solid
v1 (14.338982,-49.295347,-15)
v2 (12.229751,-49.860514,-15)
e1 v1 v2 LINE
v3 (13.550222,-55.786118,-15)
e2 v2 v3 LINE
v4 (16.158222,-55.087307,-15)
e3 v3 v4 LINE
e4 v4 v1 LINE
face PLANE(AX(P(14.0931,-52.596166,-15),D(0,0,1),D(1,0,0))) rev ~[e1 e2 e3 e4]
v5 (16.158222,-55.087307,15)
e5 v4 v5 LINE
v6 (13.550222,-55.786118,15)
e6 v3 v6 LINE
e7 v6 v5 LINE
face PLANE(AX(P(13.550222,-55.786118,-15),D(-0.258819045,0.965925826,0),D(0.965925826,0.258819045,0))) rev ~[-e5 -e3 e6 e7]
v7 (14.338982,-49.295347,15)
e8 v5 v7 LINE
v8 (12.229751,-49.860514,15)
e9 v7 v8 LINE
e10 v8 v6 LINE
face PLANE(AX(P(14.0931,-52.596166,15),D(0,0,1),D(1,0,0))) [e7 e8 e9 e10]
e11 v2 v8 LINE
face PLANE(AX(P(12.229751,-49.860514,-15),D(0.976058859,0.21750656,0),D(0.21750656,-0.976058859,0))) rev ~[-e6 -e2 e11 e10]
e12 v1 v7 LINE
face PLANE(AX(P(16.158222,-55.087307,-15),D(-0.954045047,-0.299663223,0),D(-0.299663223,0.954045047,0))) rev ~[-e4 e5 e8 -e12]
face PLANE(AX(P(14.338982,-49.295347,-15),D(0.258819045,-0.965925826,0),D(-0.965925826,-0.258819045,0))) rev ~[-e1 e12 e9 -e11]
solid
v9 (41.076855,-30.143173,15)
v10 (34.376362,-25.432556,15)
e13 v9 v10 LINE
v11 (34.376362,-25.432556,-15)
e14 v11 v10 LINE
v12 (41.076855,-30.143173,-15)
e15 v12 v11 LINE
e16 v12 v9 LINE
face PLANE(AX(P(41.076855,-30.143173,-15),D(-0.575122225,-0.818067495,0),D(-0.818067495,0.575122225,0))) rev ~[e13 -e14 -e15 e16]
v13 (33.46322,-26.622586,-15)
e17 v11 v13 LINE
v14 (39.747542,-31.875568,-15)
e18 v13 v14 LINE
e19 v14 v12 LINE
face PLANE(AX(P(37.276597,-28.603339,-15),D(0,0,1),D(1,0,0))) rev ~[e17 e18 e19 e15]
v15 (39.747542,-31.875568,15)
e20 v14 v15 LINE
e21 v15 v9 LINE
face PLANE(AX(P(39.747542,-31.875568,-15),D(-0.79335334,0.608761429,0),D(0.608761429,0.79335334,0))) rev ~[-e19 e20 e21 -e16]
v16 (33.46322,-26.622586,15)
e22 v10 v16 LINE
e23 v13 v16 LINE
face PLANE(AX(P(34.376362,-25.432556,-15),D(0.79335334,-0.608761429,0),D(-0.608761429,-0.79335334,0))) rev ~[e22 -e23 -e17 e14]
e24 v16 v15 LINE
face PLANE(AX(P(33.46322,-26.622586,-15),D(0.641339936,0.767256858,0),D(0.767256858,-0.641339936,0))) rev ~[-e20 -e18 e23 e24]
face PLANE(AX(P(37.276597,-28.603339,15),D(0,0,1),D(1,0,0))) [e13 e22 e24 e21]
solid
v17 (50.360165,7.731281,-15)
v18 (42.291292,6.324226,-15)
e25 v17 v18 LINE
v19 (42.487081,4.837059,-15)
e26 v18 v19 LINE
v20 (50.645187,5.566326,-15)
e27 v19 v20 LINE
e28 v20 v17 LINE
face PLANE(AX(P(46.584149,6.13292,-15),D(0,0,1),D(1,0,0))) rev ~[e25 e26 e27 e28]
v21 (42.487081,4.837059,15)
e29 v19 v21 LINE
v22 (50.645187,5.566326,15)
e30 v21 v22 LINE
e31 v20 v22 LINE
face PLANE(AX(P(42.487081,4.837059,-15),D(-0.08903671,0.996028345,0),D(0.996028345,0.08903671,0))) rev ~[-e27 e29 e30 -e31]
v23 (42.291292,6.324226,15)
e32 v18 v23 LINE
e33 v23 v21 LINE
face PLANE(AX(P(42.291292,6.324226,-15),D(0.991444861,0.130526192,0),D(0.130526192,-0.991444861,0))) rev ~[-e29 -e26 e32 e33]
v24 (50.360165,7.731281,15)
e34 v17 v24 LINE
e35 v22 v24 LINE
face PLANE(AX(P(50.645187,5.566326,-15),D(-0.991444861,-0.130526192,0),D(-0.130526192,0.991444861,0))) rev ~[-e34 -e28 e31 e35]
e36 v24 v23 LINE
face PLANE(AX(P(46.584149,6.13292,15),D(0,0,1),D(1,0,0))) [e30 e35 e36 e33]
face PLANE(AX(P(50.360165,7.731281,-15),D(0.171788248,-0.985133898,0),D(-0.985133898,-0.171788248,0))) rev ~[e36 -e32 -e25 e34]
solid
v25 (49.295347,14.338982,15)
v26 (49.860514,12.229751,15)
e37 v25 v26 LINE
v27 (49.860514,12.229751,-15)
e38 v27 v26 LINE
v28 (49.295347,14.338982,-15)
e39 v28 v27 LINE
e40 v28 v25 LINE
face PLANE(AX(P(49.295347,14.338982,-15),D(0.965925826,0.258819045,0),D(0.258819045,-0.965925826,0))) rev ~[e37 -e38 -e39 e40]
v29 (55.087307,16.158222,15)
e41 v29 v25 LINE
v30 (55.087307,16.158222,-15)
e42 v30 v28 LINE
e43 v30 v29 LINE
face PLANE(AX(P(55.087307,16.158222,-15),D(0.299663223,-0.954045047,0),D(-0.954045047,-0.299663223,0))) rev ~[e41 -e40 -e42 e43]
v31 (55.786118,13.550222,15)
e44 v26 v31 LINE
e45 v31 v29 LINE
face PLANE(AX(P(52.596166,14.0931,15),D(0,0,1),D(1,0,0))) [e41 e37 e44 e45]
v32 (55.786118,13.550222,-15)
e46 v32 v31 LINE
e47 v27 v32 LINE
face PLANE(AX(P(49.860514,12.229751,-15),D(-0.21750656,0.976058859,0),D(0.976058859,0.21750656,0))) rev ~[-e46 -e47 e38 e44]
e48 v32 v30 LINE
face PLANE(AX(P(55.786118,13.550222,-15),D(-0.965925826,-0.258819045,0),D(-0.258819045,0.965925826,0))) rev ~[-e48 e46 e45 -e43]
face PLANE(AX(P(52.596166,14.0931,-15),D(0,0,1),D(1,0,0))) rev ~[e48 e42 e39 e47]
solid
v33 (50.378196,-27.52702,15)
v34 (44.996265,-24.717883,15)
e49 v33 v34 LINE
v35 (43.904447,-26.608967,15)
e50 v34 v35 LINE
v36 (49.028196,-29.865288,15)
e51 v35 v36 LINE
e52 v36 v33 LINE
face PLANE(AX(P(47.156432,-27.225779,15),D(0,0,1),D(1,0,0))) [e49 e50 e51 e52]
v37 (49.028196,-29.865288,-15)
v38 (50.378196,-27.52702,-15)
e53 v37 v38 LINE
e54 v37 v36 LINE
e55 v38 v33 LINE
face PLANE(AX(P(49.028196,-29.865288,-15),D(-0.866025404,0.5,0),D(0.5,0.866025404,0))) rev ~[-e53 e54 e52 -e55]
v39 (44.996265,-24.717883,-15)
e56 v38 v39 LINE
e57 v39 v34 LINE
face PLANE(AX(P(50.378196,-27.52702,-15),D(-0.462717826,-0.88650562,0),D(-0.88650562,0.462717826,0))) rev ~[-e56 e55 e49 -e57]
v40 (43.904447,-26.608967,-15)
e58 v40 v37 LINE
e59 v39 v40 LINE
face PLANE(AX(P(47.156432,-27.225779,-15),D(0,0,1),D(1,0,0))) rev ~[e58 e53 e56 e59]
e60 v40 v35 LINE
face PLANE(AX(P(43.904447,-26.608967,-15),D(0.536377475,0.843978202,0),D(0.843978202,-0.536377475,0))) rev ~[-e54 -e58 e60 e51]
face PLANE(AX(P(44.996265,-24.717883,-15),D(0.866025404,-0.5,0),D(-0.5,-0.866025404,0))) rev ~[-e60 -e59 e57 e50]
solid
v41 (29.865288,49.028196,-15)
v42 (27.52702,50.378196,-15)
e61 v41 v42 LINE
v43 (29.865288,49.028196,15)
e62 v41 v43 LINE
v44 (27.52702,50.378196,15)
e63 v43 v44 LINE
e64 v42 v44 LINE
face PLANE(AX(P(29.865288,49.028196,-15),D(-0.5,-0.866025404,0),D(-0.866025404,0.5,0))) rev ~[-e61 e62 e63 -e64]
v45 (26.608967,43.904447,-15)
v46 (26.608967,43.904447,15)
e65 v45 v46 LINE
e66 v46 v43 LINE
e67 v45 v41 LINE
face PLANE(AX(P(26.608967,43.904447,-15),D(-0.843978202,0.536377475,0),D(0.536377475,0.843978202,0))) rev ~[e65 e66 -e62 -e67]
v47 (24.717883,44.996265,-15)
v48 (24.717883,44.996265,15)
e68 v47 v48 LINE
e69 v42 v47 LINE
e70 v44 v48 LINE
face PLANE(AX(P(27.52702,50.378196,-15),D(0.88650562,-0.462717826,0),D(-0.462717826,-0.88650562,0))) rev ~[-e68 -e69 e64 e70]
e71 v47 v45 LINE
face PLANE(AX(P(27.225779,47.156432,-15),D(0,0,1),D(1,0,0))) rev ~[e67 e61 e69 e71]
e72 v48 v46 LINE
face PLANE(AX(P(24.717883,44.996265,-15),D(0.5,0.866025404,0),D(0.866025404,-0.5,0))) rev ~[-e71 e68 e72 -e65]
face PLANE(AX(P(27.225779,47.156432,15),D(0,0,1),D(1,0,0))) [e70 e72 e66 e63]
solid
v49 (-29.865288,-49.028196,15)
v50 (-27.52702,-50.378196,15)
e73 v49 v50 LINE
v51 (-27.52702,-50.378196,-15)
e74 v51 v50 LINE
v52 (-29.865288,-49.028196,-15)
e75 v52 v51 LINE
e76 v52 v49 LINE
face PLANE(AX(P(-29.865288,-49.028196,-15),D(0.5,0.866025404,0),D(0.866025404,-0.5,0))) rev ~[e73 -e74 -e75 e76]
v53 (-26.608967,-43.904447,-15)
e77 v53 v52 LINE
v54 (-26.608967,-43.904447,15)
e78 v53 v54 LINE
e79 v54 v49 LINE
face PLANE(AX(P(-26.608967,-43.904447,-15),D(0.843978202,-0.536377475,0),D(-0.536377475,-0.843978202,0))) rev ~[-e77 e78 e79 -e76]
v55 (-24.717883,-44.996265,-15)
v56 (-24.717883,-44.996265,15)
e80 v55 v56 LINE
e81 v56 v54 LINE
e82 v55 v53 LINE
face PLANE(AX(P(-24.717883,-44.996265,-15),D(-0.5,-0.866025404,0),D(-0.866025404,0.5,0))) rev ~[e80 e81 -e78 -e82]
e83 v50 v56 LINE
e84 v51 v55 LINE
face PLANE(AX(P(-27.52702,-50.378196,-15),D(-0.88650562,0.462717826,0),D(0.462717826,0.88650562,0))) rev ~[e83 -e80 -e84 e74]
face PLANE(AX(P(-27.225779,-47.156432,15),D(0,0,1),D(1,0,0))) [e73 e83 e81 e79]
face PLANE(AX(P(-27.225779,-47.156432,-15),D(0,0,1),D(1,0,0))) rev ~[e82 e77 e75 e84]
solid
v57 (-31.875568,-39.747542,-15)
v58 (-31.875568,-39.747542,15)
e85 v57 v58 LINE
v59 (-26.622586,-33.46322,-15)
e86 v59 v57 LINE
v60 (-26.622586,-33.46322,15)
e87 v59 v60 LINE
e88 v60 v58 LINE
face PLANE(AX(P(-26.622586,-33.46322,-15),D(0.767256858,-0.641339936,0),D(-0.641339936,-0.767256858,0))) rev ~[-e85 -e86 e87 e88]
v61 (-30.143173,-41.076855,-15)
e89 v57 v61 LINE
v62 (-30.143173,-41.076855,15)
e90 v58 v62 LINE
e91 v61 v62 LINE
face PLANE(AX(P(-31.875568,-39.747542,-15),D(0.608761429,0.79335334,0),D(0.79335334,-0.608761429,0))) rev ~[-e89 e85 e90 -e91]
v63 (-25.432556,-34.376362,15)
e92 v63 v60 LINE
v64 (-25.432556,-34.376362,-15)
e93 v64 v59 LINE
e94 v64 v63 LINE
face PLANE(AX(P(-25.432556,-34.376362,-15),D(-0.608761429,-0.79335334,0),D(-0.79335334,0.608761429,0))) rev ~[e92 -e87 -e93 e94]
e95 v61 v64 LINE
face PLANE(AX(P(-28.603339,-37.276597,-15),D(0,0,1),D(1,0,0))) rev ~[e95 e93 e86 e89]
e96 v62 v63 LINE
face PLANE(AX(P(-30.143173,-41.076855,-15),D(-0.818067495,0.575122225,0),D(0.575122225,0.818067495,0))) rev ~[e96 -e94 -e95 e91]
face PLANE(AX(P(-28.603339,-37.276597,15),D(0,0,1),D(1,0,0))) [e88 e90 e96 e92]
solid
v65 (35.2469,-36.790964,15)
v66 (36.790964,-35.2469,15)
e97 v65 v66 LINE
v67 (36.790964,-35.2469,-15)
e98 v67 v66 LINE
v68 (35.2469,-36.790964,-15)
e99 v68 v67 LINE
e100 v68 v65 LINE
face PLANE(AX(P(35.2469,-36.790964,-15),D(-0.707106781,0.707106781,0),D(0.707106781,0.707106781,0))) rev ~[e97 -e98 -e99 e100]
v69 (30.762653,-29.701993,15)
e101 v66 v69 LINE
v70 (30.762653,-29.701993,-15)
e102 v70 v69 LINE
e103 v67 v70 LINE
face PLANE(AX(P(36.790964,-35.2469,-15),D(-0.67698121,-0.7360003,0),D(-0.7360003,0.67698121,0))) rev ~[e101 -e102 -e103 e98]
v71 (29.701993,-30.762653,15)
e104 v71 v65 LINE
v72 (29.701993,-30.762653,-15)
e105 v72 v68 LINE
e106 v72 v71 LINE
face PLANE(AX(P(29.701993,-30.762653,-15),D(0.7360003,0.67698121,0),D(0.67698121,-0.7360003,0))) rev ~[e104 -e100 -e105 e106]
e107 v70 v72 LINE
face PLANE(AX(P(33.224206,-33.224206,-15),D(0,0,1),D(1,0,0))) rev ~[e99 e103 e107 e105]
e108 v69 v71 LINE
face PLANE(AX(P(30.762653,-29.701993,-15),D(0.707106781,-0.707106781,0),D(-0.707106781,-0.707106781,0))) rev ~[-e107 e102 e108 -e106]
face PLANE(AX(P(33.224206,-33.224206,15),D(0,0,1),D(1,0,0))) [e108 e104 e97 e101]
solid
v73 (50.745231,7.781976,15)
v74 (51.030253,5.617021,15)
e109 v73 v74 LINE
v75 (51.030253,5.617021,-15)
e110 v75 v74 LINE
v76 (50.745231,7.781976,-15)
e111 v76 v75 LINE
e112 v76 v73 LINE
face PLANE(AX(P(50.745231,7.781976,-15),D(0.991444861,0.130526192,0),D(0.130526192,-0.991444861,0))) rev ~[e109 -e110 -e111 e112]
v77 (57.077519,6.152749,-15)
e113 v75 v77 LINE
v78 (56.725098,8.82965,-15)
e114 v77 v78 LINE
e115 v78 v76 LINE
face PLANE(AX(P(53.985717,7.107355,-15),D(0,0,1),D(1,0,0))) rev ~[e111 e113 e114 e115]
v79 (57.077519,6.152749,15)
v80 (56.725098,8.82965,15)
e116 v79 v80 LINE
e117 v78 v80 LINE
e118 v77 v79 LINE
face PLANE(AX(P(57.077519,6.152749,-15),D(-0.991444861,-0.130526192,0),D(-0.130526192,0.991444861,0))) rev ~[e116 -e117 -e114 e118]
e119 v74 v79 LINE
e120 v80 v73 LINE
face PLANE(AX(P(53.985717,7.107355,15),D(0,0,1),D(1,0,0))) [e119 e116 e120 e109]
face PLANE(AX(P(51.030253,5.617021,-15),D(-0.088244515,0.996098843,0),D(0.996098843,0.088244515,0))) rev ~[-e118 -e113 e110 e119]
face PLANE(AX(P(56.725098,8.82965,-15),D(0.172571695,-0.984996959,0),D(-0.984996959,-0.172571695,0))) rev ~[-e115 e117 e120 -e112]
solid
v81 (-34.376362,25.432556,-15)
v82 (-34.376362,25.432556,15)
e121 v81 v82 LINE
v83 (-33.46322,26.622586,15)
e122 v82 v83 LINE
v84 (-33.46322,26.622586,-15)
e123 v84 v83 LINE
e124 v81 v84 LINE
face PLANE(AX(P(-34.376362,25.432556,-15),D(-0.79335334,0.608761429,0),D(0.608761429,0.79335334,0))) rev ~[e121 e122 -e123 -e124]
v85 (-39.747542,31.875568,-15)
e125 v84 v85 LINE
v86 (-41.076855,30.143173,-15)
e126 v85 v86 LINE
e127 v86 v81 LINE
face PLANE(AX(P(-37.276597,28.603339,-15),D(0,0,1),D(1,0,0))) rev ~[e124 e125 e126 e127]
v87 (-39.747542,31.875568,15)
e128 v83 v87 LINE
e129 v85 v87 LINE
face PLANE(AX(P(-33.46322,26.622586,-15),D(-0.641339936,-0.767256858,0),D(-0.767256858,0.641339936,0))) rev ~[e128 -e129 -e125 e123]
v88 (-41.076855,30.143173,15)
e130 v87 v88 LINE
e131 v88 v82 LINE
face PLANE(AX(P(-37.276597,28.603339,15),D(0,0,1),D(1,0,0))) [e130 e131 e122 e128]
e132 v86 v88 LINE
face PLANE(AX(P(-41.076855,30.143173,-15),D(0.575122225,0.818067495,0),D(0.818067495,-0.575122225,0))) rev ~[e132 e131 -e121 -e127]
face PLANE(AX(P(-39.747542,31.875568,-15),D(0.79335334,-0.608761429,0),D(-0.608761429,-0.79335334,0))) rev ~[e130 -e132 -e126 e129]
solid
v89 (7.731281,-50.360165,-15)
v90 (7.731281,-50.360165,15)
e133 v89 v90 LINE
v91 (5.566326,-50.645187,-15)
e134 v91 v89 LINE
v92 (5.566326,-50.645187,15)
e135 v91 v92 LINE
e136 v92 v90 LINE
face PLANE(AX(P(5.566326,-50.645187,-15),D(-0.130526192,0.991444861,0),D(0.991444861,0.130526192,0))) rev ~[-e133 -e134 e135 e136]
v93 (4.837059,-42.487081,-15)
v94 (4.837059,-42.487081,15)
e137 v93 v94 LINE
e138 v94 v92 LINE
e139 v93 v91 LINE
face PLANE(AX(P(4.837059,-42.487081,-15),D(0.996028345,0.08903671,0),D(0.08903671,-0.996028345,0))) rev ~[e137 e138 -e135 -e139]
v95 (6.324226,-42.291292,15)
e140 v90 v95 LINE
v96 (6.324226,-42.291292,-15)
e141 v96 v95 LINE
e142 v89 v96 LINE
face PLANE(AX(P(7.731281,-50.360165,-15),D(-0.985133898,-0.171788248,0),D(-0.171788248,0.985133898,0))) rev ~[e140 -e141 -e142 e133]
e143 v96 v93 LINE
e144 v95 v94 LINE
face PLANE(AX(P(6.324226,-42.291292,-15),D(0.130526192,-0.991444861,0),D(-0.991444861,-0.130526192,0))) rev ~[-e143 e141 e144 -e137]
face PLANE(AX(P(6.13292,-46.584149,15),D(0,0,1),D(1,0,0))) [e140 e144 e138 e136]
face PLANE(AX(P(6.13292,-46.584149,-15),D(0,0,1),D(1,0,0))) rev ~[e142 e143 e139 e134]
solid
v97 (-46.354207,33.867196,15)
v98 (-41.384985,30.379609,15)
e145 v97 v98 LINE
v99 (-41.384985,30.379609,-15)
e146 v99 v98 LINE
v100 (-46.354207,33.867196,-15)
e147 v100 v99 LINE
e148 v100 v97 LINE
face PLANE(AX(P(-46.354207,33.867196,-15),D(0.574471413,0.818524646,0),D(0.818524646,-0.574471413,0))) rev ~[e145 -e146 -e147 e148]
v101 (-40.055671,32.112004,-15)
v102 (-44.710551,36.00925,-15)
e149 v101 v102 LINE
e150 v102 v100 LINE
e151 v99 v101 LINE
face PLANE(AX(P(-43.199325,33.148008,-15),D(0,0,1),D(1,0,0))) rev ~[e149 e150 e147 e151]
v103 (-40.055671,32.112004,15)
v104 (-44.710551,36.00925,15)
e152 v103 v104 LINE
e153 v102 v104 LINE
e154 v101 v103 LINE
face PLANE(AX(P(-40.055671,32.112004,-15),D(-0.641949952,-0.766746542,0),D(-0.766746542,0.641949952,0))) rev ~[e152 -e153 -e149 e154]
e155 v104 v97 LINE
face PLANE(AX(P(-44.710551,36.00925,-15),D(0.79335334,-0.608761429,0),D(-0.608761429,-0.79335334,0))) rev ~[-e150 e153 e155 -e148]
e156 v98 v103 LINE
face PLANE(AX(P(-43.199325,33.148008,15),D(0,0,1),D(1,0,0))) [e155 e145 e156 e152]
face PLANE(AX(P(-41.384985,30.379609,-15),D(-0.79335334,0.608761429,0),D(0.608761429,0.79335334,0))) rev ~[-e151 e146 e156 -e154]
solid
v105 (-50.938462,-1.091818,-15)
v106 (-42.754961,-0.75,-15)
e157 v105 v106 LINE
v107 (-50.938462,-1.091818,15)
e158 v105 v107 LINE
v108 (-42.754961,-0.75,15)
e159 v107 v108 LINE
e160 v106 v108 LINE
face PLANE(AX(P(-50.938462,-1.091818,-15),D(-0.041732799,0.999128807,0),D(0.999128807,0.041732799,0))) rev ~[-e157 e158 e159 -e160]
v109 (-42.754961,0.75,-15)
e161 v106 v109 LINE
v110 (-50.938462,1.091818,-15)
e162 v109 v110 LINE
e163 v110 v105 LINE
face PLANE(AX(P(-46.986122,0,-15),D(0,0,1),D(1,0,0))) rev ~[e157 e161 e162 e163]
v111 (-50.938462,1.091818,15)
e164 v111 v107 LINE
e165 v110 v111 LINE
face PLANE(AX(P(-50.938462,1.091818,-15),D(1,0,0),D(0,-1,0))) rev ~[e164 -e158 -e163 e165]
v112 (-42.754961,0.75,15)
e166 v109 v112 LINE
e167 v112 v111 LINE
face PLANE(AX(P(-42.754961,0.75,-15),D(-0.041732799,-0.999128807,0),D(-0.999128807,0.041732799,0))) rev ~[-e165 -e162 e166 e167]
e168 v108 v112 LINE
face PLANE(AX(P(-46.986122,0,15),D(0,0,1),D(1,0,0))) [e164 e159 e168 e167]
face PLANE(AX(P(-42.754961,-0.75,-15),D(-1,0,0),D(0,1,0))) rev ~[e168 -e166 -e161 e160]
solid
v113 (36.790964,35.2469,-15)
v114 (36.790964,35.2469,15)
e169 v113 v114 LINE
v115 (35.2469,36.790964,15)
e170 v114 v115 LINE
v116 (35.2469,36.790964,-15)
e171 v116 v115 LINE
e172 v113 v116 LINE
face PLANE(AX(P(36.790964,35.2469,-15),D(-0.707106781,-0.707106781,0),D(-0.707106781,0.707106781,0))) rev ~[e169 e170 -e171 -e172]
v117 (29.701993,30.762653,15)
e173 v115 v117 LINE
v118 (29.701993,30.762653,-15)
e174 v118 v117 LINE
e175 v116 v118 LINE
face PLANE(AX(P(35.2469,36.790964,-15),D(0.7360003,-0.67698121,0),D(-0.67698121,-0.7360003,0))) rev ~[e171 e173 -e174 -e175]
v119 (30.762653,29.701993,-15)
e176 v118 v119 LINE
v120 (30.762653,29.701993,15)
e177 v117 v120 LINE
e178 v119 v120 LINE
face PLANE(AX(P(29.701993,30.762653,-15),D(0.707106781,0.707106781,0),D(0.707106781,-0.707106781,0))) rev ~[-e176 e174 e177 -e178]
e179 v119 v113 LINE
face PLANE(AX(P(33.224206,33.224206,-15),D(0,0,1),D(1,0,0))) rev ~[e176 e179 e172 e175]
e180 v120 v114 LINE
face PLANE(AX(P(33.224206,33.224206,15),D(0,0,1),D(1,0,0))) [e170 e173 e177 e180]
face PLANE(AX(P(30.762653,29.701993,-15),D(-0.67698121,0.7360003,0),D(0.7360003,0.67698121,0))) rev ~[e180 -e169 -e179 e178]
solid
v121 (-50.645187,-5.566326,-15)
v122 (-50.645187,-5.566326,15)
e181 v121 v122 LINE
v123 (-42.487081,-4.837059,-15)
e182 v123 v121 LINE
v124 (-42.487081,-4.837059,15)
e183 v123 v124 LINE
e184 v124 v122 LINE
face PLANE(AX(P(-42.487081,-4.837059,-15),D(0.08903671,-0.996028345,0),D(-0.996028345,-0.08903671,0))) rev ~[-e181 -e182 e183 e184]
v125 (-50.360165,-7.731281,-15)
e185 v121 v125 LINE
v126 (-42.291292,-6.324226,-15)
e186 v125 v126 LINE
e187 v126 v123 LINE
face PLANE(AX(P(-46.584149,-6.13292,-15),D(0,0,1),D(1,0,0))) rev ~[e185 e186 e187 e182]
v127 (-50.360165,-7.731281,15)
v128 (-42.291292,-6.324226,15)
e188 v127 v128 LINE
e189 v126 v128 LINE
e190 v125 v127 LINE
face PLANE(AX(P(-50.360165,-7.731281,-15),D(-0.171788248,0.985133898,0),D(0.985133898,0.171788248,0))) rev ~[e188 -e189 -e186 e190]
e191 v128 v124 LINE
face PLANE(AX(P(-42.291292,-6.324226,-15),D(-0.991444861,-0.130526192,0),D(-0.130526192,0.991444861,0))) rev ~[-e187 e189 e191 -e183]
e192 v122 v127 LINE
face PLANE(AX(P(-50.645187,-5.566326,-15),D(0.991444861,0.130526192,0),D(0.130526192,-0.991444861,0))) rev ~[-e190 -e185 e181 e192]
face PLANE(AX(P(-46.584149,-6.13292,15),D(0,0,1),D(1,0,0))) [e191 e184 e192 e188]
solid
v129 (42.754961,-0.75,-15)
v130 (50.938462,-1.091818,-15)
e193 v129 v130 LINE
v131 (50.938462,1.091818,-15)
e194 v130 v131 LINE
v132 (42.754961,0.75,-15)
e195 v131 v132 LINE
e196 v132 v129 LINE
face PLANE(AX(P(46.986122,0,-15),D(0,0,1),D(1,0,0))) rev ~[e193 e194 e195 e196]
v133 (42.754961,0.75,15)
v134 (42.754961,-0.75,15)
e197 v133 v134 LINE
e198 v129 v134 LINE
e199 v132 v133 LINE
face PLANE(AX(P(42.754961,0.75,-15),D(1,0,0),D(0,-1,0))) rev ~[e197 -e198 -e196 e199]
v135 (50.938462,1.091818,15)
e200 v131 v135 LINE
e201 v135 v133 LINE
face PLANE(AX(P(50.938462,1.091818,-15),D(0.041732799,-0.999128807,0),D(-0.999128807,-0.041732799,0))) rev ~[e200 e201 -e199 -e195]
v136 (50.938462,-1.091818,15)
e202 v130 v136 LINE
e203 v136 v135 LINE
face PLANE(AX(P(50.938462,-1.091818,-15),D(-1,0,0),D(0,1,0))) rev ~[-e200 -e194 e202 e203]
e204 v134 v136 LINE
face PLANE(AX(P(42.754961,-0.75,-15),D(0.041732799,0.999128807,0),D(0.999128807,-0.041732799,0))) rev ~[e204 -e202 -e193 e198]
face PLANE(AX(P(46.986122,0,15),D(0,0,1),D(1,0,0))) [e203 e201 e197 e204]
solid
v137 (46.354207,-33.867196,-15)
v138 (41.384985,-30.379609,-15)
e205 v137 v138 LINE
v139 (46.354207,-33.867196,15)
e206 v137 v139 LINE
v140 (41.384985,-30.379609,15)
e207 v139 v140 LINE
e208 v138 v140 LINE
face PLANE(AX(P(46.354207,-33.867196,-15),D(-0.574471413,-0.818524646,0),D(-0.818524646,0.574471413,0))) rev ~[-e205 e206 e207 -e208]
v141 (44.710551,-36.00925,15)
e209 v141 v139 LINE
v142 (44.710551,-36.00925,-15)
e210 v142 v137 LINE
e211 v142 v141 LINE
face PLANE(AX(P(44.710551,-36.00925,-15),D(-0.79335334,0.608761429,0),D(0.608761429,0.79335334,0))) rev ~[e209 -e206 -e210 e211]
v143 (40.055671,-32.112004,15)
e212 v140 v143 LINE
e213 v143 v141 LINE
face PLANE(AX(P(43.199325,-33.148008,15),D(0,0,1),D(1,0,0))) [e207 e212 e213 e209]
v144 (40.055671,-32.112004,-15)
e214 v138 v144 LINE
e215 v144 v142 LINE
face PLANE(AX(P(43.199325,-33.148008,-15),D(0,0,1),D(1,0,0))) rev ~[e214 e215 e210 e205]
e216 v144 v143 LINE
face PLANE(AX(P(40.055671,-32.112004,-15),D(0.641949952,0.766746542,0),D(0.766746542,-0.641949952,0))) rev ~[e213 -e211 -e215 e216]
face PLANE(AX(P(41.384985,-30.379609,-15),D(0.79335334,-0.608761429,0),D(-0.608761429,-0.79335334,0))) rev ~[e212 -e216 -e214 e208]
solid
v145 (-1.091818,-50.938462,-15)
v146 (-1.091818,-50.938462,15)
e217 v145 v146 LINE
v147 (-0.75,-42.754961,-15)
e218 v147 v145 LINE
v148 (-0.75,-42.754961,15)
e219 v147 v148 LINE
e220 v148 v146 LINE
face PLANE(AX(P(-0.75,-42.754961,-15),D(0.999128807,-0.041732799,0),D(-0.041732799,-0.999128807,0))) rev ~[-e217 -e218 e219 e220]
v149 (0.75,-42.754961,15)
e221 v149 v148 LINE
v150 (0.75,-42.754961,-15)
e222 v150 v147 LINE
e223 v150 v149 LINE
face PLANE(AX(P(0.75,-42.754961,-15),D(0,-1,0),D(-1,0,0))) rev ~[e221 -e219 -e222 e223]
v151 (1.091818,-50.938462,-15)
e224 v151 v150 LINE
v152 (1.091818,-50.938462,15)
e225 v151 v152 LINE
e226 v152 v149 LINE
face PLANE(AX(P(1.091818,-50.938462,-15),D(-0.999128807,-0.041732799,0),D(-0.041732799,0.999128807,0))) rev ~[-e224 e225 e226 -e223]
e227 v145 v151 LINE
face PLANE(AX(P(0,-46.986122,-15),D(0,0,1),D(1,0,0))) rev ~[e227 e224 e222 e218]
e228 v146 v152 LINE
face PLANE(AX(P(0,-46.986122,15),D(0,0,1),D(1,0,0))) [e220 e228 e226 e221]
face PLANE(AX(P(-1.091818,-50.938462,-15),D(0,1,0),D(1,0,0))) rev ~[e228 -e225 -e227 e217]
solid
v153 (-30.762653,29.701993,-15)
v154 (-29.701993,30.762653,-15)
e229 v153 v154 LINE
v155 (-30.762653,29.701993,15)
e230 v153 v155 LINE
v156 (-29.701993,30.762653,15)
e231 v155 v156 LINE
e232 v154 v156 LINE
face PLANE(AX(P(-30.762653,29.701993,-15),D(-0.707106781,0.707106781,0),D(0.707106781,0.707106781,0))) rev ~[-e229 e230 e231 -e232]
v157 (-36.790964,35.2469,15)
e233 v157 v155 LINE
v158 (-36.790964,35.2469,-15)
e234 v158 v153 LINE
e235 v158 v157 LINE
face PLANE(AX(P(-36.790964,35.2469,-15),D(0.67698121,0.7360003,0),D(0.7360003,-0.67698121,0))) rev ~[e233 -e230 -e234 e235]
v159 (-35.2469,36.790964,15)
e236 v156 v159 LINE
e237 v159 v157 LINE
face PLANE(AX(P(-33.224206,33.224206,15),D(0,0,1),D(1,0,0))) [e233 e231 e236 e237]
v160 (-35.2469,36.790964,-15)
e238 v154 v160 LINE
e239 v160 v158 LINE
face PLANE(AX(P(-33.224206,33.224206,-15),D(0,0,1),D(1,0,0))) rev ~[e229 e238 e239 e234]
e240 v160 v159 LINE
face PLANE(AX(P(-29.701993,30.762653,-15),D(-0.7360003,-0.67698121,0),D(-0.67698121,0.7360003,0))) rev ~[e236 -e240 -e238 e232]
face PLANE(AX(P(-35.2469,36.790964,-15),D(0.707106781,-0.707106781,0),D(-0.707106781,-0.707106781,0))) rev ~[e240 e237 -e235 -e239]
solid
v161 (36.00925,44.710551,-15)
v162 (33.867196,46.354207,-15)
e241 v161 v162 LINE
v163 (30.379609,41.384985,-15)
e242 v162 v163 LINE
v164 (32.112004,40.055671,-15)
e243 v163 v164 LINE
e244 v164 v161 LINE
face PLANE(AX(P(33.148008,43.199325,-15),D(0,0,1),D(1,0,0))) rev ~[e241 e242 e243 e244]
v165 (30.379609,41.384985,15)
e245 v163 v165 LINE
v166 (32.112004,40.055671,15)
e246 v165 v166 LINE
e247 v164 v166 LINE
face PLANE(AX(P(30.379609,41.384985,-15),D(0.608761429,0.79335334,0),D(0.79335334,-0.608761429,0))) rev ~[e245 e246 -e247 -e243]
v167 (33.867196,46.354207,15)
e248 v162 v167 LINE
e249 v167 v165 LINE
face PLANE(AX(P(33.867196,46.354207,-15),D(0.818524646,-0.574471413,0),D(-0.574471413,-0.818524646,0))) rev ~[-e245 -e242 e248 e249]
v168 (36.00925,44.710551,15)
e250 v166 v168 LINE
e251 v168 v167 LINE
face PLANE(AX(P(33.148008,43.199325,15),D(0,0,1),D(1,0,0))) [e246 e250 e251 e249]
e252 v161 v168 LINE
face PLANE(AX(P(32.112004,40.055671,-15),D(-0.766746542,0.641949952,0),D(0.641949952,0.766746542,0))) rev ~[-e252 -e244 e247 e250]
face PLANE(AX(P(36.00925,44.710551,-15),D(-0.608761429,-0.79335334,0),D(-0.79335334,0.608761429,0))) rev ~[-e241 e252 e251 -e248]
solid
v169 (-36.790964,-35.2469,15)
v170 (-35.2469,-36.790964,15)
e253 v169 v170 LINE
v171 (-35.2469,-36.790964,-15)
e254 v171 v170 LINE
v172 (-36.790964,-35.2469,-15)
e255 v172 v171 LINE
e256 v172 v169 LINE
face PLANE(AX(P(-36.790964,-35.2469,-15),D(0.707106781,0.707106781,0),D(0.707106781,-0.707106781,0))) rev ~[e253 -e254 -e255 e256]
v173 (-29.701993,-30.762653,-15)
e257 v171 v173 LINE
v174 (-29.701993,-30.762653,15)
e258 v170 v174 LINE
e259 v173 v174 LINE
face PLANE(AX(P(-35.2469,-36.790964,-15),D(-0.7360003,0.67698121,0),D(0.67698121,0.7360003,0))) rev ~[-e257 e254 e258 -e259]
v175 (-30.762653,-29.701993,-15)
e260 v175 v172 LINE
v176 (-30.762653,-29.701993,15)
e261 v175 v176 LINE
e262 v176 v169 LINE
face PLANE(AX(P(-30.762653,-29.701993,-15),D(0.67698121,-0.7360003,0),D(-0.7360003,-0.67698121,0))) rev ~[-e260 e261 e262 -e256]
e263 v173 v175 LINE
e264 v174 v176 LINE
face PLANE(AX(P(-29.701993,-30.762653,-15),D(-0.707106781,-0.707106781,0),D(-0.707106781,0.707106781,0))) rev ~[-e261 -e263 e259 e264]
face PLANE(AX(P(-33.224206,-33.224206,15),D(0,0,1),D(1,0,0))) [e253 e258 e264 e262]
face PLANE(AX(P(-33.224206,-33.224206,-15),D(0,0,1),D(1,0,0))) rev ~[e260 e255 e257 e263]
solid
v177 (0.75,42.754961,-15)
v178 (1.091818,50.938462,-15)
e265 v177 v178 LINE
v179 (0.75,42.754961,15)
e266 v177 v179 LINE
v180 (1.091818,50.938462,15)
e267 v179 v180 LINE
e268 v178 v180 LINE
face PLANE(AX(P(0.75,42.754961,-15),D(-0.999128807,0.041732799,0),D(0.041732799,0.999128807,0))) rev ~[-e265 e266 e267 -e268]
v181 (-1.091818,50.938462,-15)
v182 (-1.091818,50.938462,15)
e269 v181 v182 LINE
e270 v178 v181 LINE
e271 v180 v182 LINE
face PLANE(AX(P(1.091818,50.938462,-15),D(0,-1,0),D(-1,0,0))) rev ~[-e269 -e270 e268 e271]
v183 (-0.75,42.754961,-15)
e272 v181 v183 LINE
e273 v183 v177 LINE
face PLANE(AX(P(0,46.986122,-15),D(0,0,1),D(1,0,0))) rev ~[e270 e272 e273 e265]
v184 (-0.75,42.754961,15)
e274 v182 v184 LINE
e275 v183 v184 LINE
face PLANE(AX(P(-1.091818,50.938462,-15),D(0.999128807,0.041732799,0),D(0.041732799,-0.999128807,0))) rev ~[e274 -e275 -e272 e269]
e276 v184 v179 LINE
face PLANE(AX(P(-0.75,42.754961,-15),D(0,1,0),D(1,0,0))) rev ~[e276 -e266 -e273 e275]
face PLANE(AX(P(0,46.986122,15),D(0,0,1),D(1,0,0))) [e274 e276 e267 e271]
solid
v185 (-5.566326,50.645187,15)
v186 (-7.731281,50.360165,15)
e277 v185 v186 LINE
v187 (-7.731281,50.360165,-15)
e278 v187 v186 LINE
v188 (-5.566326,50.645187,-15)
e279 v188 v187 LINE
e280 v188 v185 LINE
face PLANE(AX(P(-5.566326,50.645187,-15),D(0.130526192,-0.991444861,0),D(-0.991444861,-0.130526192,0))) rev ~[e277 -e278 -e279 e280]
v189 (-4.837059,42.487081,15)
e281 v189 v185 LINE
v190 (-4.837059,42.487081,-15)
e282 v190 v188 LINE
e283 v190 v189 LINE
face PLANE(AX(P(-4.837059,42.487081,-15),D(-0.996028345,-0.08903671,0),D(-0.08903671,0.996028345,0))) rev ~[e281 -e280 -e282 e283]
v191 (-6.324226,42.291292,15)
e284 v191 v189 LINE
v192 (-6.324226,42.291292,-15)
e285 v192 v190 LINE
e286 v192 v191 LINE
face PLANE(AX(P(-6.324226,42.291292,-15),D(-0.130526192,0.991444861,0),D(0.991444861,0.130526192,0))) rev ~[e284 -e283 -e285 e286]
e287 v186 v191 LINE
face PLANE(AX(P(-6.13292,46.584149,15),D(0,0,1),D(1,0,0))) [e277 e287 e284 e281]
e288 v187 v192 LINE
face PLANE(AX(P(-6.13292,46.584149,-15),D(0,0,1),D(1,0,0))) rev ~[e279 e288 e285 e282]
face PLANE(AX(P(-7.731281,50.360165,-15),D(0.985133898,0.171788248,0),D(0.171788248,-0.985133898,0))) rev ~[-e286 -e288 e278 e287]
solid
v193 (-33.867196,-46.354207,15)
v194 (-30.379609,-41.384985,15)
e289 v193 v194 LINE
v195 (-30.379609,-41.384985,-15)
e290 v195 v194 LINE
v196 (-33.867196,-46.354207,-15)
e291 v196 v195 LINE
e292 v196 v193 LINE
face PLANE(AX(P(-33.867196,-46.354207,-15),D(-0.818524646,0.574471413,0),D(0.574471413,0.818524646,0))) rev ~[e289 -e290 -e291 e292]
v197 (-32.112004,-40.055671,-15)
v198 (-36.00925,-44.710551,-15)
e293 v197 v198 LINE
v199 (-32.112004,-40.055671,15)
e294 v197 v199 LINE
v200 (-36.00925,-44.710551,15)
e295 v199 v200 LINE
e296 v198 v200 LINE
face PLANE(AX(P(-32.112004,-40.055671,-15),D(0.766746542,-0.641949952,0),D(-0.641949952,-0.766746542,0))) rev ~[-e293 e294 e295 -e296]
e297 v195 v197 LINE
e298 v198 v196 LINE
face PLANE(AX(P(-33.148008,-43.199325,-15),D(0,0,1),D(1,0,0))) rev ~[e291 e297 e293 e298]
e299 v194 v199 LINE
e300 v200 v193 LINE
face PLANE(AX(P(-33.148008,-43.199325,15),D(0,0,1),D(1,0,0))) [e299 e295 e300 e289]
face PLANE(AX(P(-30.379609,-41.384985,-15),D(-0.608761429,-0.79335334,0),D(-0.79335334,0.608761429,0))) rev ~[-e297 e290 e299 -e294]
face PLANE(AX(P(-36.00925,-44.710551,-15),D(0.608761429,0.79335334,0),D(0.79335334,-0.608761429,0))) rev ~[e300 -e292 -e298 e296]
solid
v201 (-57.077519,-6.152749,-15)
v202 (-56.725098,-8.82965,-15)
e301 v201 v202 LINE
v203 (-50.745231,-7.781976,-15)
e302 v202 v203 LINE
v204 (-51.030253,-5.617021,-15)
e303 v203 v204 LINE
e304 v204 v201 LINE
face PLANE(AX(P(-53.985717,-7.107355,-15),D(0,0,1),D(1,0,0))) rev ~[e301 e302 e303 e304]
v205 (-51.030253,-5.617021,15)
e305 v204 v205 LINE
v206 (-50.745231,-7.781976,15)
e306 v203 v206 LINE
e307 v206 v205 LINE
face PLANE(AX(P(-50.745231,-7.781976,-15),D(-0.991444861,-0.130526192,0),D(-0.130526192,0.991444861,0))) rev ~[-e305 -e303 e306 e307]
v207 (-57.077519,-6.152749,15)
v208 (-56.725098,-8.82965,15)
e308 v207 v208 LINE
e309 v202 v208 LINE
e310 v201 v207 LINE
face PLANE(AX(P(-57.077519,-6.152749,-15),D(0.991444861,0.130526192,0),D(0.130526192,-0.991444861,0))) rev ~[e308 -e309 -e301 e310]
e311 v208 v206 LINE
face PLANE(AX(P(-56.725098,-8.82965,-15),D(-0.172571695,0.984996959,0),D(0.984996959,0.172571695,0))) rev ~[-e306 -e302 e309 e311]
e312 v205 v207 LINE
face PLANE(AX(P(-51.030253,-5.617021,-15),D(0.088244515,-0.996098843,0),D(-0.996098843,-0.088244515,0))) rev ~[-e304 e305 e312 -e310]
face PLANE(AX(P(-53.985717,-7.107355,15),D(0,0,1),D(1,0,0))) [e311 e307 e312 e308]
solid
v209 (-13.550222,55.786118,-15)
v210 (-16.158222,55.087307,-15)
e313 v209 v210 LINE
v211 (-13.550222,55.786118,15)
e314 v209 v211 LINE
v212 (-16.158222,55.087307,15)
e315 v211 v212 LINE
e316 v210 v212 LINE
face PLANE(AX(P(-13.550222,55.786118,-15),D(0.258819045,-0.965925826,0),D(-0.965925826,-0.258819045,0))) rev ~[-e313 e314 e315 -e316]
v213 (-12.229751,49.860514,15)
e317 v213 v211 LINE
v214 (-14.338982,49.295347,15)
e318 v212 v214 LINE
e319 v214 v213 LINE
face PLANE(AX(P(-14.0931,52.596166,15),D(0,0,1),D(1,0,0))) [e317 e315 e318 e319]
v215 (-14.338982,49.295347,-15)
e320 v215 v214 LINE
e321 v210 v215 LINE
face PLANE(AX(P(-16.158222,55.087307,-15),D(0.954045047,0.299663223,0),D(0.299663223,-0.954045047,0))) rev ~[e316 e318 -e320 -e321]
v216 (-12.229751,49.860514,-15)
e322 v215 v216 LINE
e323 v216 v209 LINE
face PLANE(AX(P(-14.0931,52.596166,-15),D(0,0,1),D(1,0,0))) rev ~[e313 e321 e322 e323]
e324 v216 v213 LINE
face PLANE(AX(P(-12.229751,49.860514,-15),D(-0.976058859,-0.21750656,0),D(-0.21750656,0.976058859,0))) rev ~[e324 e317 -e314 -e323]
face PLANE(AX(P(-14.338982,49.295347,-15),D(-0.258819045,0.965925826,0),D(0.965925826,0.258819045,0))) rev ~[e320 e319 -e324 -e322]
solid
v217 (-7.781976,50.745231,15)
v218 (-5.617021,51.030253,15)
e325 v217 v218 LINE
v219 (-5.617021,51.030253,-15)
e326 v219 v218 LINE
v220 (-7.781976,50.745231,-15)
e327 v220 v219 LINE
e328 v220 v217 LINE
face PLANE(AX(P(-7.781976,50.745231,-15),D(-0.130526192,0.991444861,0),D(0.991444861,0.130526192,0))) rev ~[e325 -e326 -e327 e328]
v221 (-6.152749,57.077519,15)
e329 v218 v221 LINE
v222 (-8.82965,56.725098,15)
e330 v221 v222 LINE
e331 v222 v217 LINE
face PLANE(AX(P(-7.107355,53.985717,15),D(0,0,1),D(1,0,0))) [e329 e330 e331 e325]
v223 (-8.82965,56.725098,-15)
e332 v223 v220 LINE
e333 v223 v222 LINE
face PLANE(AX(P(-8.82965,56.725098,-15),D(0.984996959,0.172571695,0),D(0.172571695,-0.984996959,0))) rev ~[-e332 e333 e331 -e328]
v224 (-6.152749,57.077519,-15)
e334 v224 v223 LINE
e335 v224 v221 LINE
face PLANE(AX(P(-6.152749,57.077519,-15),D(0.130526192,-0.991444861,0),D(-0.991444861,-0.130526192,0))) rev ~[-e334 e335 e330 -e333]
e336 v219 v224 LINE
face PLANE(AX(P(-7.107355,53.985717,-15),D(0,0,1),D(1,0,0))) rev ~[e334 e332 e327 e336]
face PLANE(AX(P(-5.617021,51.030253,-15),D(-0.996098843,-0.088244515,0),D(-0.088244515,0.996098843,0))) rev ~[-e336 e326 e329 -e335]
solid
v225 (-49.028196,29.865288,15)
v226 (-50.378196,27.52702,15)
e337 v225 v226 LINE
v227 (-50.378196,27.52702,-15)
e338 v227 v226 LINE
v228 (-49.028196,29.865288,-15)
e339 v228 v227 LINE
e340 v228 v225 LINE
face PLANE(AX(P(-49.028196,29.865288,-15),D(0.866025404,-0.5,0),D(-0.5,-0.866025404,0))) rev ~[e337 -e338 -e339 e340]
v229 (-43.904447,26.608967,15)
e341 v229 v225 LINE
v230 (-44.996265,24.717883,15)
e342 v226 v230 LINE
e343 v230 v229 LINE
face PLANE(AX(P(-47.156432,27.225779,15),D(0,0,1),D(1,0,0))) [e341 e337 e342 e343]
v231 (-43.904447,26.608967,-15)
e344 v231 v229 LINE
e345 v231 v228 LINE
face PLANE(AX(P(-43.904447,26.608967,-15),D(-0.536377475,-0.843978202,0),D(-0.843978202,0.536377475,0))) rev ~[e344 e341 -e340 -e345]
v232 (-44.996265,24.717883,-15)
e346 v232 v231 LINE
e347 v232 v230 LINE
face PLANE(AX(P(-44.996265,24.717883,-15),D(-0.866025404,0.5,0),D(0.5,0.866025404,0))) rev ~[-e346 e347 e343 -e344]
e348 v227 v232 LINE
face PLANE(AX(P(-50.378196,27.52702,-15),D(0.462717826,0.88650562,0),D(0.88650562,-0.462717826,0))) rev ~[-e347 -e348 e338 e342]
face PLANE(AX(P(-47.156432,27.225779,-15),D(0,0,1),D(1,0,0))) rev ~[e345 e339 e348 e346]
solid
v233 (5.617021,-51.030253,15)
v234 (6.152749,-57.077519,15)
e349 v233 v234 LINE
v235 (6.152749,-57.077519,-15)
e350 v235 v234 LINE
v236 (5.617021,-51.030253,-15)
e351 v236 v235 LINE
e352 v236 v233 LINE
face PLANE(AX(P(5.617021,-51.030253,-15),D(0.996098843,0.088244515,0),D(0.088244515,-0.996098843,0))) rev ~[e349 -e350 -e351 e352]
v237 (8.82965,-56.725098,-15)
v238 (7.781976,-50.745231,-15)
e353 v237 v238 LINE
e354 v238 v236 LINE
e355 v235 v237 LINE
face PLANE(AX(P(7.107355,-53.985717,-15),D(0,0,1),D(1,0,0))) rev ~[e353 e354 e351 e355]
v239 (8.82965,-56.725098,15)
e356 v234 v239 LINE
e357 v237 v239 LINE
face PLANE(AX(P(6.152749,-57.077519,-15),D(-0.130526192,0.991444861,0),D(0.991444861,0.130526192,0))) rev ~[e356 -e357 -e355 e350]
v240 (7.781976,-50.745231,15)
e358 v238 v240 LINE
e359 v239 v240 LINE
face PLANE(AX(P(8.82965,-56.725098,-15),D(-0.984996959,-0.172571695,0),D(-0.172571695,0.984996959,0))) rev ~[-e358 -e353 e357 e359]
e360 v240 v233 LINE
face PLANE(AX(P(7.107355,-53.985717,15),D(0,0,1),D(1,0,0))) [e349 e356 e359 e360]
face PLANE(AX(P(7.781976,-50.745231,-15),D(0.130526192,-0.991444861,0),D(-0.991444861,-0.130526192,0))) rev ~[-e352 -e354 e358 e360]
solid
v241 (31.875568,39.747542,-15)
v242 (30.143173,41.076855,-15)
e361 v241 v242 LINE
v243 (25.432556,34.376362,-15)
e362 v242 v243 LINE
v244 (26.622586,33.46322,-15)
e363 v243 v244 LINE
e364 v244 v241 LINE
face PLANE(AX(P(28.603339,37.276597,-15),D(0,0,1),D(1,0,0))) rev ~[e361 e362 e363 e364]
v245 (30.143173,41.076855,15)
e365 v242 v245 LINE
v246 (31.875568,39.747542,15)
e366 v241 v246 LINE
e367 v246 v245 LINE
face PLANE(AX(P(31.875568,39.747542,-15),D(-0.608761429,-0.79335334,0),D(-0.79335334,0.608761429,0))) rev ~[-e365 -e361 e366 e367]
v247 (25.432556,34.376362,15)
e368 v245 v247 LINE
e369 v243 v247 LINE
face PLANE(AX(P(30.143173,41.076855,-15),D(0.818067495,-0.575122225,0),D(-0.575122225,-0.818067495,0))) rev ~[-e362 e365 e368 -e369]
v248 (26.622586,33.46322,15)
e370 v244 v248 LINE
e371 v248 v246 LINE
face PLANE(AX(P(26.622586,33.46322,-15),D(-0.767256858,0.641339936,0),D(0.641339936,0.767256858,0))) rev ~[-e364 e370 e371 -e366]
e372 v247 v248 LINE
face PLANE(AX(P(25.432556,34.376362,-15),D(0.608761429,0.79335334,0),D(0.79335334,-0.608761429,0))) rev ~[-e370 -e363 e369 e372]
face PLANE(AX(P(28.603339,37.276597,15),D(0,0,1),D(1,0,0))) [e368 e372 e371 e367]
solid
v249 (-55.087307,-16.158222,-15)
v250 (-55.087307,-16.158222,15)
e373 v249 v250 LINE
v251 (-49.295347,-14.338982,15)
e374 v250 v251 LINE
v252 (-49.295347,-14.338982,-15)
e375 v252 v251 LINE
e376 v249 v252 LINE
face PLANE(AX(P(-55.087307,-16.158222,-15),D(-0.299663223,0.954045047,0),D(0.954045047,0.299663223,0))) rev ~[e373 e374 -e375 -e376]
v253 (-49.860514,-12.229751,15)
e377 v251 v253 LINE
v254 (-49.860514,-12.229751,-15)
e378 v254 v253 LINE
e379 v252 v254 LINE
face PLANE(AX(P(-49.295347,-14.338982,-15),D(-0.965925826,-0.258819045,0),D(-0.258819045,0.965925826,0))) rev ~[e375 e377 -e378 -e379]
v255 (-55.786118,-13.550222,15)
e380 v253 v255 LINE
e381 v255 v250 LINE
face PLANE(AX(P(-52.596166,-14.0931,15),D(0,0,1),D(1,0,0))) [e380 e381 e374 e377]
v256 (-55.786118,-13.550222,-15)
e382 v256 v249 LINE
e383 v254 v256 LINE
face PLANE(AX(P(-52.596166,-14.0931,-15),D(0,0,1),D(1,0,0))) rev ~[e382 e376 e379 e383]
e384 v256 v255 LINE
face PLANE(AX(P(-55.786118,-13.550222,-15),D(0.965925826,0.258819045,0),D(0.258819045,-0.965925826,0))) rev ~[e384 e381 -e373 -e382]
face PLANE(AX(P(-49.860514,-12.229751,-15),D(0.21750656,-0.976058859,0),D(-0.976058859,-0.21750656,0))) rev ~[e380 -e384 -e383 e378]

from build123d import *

# Parameters (mm, degrees)
SLOT_COPPER_ENVELOPES_START    = -15
SLOT_COPPER_ENVELOPES_DEPTH    = 30
SLOT_COPPER_ENVELOPES_2_DEPTH  = 30
SLOT_COPPER_ENVELOPES_3_DEPTH  = 30
SLOT_COPPER_ENVELOPES_4_DEPTH  = 30
SLOT_COPPER_ENVELOPES_5_DEPTH  = 30
SLOT_COPPER_ENVELOPES_6_DEPTH  = 30
SLOT_COPPER_ENVELOPES_7_DEPTH  = 30
SLOT_COPPER_ENVELOPES_8_DEPTH  = 30
SLOT_COPPER_ENVELOPES_9_DEPTH  = 30
SLOT_COPPER_ENVELOPES_10_DEPTH = 30
SLOT_COPPER_ENVELOPES_11_DEPTH = 30
SLOT_COPPER_ENVELOPES_12_DEPTH = 30
SLOT_COPPER_ENVELOPES_13_DEPTH = 30
SLOT_COPPER_ENVELOPES_14_DEPTH = 30
SLOT_COPPER_ENVELOPES_15_DEPTH = 30
SLOT_COPPER_ENVELOPES_16_DEPTH = 30
SLOT_COPPER_ENVELOPES_17_DEPTH = 30
SLOT_COPPER_ENVELOPES_18_DEPTH = 30
SLOT_COPPER_ENVELOPES_19_DEPTH = 30
SLOT_COPPER_ENVELOPES_20_DEPTH = 30
SLOT_COPPER_ENVELOPES_21_DEPTH = 30
SLOT_COPPER_ENVELOPES_22_DEPTH = 30
SLOT_COPPER_ENVELOPES_23_DEPTH = 30
SLOT_COPPER_ENVELOPES_24_DEPTH = 30
SLOT_COPPER_ENVELOPES_25_DEPTH = 30
SLOT_COPPER_ENVELOPES_26_DEPTH = 30
SLOT_COPPER_ENVELOPES_27_DEPTH = 30
SLOT_COPPER_ENVELOPES_28_DEPTH = 30
SLOT_COPPER_ENVELOPES_29_DEPTH = 30
SLOT_COPPER_ENVELOPES_30_DEPTH = 30
SLOT_COPPER_ENVELOPES_31_DEPTH = 30
SLOT_COPPER_ENVELOPES_32_DEPTH = 30


with BuildPart() as part:
    # Эскиз1 → Slot_copper_envelopes (new body)
    with BuildSketch(Plane.XY.offset(SLOT_COPPER_ENVELOPES_START)):
        Polygon((42.754960783, -0.75), (50.938461538, -1.091818182), (50.938461538, 1.091818182), (42.754960783, 0.75), align=None)
    extrude(amount=SLOT_COPPER_ENVELOPES_DEPTH)


with BuildPart() as body_2:
    # Эскиз1 → Slot_copper_envelopes 2 (new body)
    with BuildSketch(Plane.XY.offset(SLOT_COPPER_ENVELOPES_START)):
        Polygon((51.030252894, 5.617020808), (57.077518903, 6.152748823), (56.725098184, 8.829649949), (50.745231154, 7.78197586), align=None)
    extrude(amount=SLOT_COPPER_ENVELOPES_2_DEPTH)


with BuildPart() as body_3:
    # Эскиз1 → Slot_copper_envelopes 3 (new body)
    with BuildSketch(Plane.XY.offset(SLOT_COPPER_ENVELOPES_START)):
        Polygon((42.487080811, 4.837058584), (50.645186808, 5.566325896), (50.360165069, 7.731280948), (42.291291523, 6.324225876), align=None)
    extrude(amount=SLOT_COPPER_ENVELOPES_3_DEPTH)


with BuildPart() as body_4:
    # Эскиз1 → Slot_copper_envelopes 4 (new body)
    with BuildSketch(Plane.XY.offset(SLOT_COPPER_ENVELOPES_START)):
        Polygon((49.860513668, 12.229751015), (55.786117941, 13.550222408), (55.087306519, 16.158222139), (49.29534699, 14.338981773), align=None)
    extrude(amount=SLOT_COPPER_ENVELOPES_4_DEPTH)


with BuildPart() as body_5:
    # Эскиз1 → Slot_copper_envelopes 5 (new body)
    with BuildSketch(Plane.XY.offset(SLOT_COPPER_ENVELOPES_START)):
        Polygon((30.762652785, 29.701992613), (36.790963617, 35.246899537), (35.246899537, 36.790963617), (29.701992613, 30.762652785), align=None)
    extrude(amount=SLOT_COPPER_ENVELOPES_5_DEPTH)


with BuildPart() as body_6:
    # Эскиз1 → Slot_copper_envelopes 6 (new body)
    with BuildSketch(Plane.XY.offset(SLOT_COPPER_ENVELOPES_START)):
        Polygon((32.112004363, 40.05567137), (36.009250254, 44.710551086), (33.867196235, 46.354206944), (30.37960916, 41.384984963), align=None)
    extrude(amount=SLOT_COPPER_ENVELOPES_6_DEPTH)


with BuildPart() as body_7:
    # Эскиз1 → Slot_copper_envelopes 7 (new body)
    with BuildSketch(Plane.XY.offset(SLOT_COPPER_ENVELOPES_START)):
        Polygon((26.622586029, 33.46321988), (31.875568239, 39.747541814), (30.143173036, 41.076855407), (25.432556019, 34.376362023), align=None)
    extrude(amount=SLOT_COPPER_ENVELOPES_7_DEPTH)


with BuildPart() as body_8:
    # Эскиз1 → Slot_copper_envelopes 8 (new body)
    with BuildSketch(Plane.XY.offset(SLOT_COPPER_ENVELOPES_START)):
        Polygon((26.608967454, 43.904447203), (29.865288141, 49.028196443), (27.527019551, 50.378196443), (24.71788289, 44.996265385), align=None)
    extrude(amount=SLOT_COPPER_ENVELOPES_8_DEPTH)


with BuildPart() as body_9:
    # Эскиз1 → Slot_copper_envelopes 9 (new body)
    with BuildSketch(Plane.XY.offset(SLOT_COPPER_ENVELOPES_START)):
        Polygon((0.75, 42.754960783), (1.091818182, 50.938461538), (-1.091818182, 50.938461538), (-0.75, 42.754960783), align=None)
    extrude(amount=SLOT_COPPER_ENVELOPES_9_DEPTH)


with BuildPart() as body_10:
    # Эскиз1 → Slot_copper_envelopes 10 (new body)
    with BuildSketch(Plane.XY.offset(SLOT_COPPER_ENVELOPES_START)):
        Polygon((-5.617020808, 51.030252894), (-6.152748823, 57.077518903), (-8.829649949, 56.725098184), (-7.78197586, 50.745231154), align=None)
    extrude(amount=SLOT_COPPER_ENVELOPES_10_DEPTH)


with BuildPart() as body_11:
    # Эскиз1 → Slot_copper_envelopes 11 (new body)
    with BuildSketch(Plane.XY.offset(SLOT_COPPER_ENVELOPES_START)):
        Polygon((-4.837058584, 42.487080811), (-5.566325896, 50.645186808), (-7.731280948, 50.360165069), (-6.324225876, 42.291291523), align=None)
    extrude(amount=SLOT_COPPER_ENVELOPES_11_DEPTH)


with BuildPart() as body_12:
    # Эскиз1 → Slot_copper_envelopes 12 (new body)
    with BuildSketch(Plane.XY.offset(SLOT_COPPER_ENVELOPES_START)):
        Polygon((-12.229751015, 49.860513668), (-13.550222408, 55.786117941), (-16.158222139, 55.087306519), (-14.338981773, 49.29534699), align=None)
    extrude(amount=SLOT_COPPER_ENVELOPES_12_DEPTH)


with BuildPart() as body_13:
    # Эскиз1 → Slot_copper_envelopes 13 (new body)
    with BuildSketch(Plane.XY.offset(SLOT_COPPER_ENVELOPES_START)):
        Polygon((-29.701992613, 30.762652785), (-35.246899537, 36.790963617), (-36.790963617, 35.246899537), (-30.762652785, 29.701992613), align=None)
    extrude(amount=SLOT_COPPER_ENVELOPES_13_DEPTH)


with BuildPart() as body_14:
    # Эскиз1 → Slot_copper_envelopes 14 (new body)
    with BuildSketch(Plane.XY.offset(SLOT_COPPER_ENVELOPES_START)):
        Polygon((-40.05567137, 32.112004363), (-44.710551086, 36.009250254), (-46.354206944, 33.867196235), (-41.384984963, 30.37960916), align=None)
    extrude(amount=SLOT_COPPER_ENVELOPES_14_DEPTH)


with BuildPart() as body_15:
    # Эскиз1 → Slot_copper_envelopes 15 (new body)
    with BuildSketch(Plane.XY.offset(SLOT_COPPER_ENVELOPES_START)):
        Polygon((-33.46321988, 26.622586029), (-39.747541814, 31.875568239), (-41.076855407, 30.143173036), (-34.376362023, 25.432556019), align=None)
    extrude(amount=SLOT_COPPER_ENVELOPES_15_DEPTH)


with BuildPart() as body_16:
    # Эскиз1 → Slot_copper_envelopes 16 (new body)
    with BuildSketch(Plane.XY.offset(SLOT_COPPER_ENVELOPES_START)):
        Polygon((-43.904447203, 26.608967454), (-49.028196443, 29.865288141), (-50.378196443, 27.527019551), (-44.996265385, 24.71788289), align=None)
    extrude(amount=SLOT_COPPER_ENVELOPES_16_DEPTH)


with BuildPart() as body_17:
    # Эскиз1 → Slot_copper_envelopes 17 (new body)
    with BuildSketch(Plane.XY.offset(SLOT_COPPER_ENVELOPES_START)):
        Polygon((-42.754960783, 0.75), (-50.938461538, 1.091818182), (-50.938461538, -1.091818182), (-42.754960783, -0.75), align=None)
    extrude(amount=SLOT_COPPER_ENVELOPES_17_DEPTH)


with BuildPart() as body_18:
    # Эскиз1 → Slot_copper_envelopes 18 (new body)
    with BuildSketch(Plane.XY.offset(SLOT_COPPER_ENVELOPES_START)):
        Polygon((-51.030252894, -5.617020808), (-57.077518903, -6.152748823), (-56.725098184, -8.829649949), (-50.745231154, -7.78197586), align=None)
    extrude(amount=SLOT_COPPER_ENVELOPES_18_DEPTH)


with BuildPart() as body_19:
    # Эскиз1 → Slot_copper_envelopes 19 (new body)
    with BuildSketch(Plane.XY.offset(SLOT_COPPER_ENVELOPES_START)):
        Polygon((-42.487080811, -4.837058584), (-50.645186808, -5.566325896), (-50.360165069, -7.731280948), (-42.291291523, -6.324225876), align=None)
    extrude(amount=SLOT_COPPER_ENVELOPES_19_DEPTH)


with BuildPart() as body_20:
    # Эскиз1 → Slot_copper_envelopes 20 (new body)
    with BuildSketch(Plane.XY.offset(SLOT_COPPER_ENVELOPES_START)):
        Polygon((-49.860513668, -12.229751015), (-55.786117941, -13.550222408), (-55.087306519, -16.158222139), (-49.29534699, -14.338981773), align=None)
    extrude(amount=SLOT_COPPER_ENVELOPES_20_DEPTH)


with BuildPart() as body_21:
    # Эскиз1 → Slot_copper_envelopes 21 (new body)
    with BuildSketch(Plane.XY.offset(SLOT_COPPER_ENVELOPES_START)):
        Polygon((-30.762652785, -29.701992613), (-36.790963617, -35.246899537), (-35.246899537, -36.790963617), (-29.701992613, -30.762652785), align=None)
    extrude(amount=SLOT_COPPER_ENVELOPES_21_DEPTH)


with BuildPart() as body_22:
    # Эскиз1 → Slot_copper_envelopes 22 (new body)
    with BuildSketch(Plane.XY.offset(SLOT_COPPER_ENVELOPES_START)):
        Polygon((-32.112004363, -40.05567137), (-36.009250254, -44.710551086), (-33.867196235, -46.354206944), (-30.37960916, -41.384984963), align=None)
    extrude(amount=SLOT_COPPER_ENVELOPES_22_DEPTH)


with BuildPart() as body_23:
    # Эскиз1 → Slot_copper_envelopes 23 (new body)
    with BuildSketch(Plane.XY.offset(SLOT_COPPER_ENVELOPES_START)):
        Polygon((-26.622586029, -33.46321988), (-31.875568239, -39.747541814), (-30.143173036, -41.076855407), (-25.432556019, -34.376362023), align=None)
    extrude(amount=SLOT_COPPER_ENVELOPES_23_DEPTH)


with BuildPart() as body_24:
    # Эскиз1 → Slot_copper_envelopes 24 (new body)
    with BuildSketch(Plane.XY.offset(SLOT_COPPER_ENVELOPES_START)):
        Polygon((-26.608967454, -43.904447203), (-29.865288141, -49.028196443), (-27.527019551, -50.378196443), (-24.71788289, -44.996265385), align=None)
    extrude(amount=SLOT_COPPER_ENVELOPES_24_DEPTH)


with BuildPart() as body_25:
    # Эскиз1 → Slot_copper_envelopes 25 (new body)
    with BuildSketch(Plane.XY.offset(SLOT_COPPER_ENVELOPES_START)):
        Polygon((-0.75, -42.754960783), (-1.091818182, -50.938461538), (1.091818182, -50.938461538), (0.75, -42.754960783), align=None)
    extrude(amount=SLOT_COPPER_ENVELOPES_25_DEPTH)


with BuildPart() as body_26:
    # Эскиз1 → Slot_copper_envelopes 26 (new body)
    with BuildSketch(Plane.XY.offset(SLOT_COPPER_ENVELOPES_START)):
        Polygon((5.617020808, -51.030252894), (6.152748823, -57.077518903), (8.829649949, -56.725098184), (7.78197586, -50.745231154), align=None)
    extrude(amount=SLOT_COPPER_ENVELOPES_26_DEPTH)


with BuildPart() as body_27:
    # Эскиз1 → Slot_copper_envelopes 27 (new body)
    with BuildSketch(Plane.XY.offset(SLOT_COPPER_ENVELOPES_START)):
        Polygon((4.837058584, -42.487080811), (5.566325896, -50.645186808), (7.731280948, -50.360165069), (6.324225876, -42.291291523), align=None)
    extrude(amount=SLOT_COPPER_ENVELOPES_27_DEPTH)


with BuildPart() as body_28:
    # Эскиз1 → Slot_copper_envelopes 28 (new body)
    with BuildSketch(Plane.XY.offset(SLOT_COPPER_ENVELOPES_START)):
        Polygon((12.229751015, -49.860513668), (13.550222408, -55.786117941), (16.158222139, -55.087306519), (14.338981773, -49.29534699), align=None)
    extrude(amount=SLOT_COPPER_ENVELOPES_28_DEPTH)


with BuildPart() as body_29:
    # Эскиз1 → Slot_copper_envelopes 29 (new body)
    with BuildSketch(Plane.XY.offset(SLOT_COPPER_ENVELOPES_START)):
        Polygon((29.701992613, -30.762652785), (35.246899537, -36.790963617), (36.790963617, -35.246899537), (30.762652785, -29.701992613), align=None)
    extrude(amount=SLOT_COPPER_ENVELOPES_29_DEPTH)


with BuildPart() as body_30:
    # Эскиз1 → Slot_copper_envelopes 30 (new body)
    with BuildSketch(Plane.XY.offset(SLOT_COPPER_ENVELOPES_START)):
        Polygon((40.05567137, -32.112004363), (44.710551086, -36.009250254), (46.354206944, -33.867196235), (41.384984963, -30.37960916), align=None)
    extrude(amount=SLOT_COPPER_ENVELOPES_30_DEPTH)


with BuildPart() as body_31:
    # Эскиз1 → Slot_copper_envelopes 31 (new body)
    with BuildSketch(Plane.XY.offset(SLOT_COPPER_ENVELOPES_START)):
        Polygon((33.46321988, -26.622586029), (39.747541814, -31.875568239), (41.076855407, -30.143173036), (34.376362023, -25.432556019), align=None)
    extrude(amount=SLOT_COPPER_ENVELOPES_31_DEPTH)


with BuildPart() as body_32:
    # Эскиз1 → Slot_copper_envelopes 32 (new body)
    with BuildSketch(Plane.XY.offset(SLOT_COPPER_ENVELOPES_START)):
        Polygon((43.904447203, -26.608967454), (49.028196443, -29.865288141), (50.378196443, -27.527019551), (44.996265385, -24.71788289), align=None)
    extrude(amount=SLOT_COPPER_ENVELOPES_32_DEPTH)


solid = Compound([part.part, body_2.part, body_3.part, body_4.part, body_5.part, body_6.part, body_7.part, body_8.part, body_9.part, body_10.part, body_11.part, body_12.part, body_13.part, body_14.part, body_15.part, body_16.part, body_17.part, body_18.part, body_19.part, body_20.part, body_21.part, body_22.part, body_23.part, body_24.part, body_25.part, body_26.part, body_27.part, body_28.part, body_29.part, body_30.part, body_31.part, body_32.part])
